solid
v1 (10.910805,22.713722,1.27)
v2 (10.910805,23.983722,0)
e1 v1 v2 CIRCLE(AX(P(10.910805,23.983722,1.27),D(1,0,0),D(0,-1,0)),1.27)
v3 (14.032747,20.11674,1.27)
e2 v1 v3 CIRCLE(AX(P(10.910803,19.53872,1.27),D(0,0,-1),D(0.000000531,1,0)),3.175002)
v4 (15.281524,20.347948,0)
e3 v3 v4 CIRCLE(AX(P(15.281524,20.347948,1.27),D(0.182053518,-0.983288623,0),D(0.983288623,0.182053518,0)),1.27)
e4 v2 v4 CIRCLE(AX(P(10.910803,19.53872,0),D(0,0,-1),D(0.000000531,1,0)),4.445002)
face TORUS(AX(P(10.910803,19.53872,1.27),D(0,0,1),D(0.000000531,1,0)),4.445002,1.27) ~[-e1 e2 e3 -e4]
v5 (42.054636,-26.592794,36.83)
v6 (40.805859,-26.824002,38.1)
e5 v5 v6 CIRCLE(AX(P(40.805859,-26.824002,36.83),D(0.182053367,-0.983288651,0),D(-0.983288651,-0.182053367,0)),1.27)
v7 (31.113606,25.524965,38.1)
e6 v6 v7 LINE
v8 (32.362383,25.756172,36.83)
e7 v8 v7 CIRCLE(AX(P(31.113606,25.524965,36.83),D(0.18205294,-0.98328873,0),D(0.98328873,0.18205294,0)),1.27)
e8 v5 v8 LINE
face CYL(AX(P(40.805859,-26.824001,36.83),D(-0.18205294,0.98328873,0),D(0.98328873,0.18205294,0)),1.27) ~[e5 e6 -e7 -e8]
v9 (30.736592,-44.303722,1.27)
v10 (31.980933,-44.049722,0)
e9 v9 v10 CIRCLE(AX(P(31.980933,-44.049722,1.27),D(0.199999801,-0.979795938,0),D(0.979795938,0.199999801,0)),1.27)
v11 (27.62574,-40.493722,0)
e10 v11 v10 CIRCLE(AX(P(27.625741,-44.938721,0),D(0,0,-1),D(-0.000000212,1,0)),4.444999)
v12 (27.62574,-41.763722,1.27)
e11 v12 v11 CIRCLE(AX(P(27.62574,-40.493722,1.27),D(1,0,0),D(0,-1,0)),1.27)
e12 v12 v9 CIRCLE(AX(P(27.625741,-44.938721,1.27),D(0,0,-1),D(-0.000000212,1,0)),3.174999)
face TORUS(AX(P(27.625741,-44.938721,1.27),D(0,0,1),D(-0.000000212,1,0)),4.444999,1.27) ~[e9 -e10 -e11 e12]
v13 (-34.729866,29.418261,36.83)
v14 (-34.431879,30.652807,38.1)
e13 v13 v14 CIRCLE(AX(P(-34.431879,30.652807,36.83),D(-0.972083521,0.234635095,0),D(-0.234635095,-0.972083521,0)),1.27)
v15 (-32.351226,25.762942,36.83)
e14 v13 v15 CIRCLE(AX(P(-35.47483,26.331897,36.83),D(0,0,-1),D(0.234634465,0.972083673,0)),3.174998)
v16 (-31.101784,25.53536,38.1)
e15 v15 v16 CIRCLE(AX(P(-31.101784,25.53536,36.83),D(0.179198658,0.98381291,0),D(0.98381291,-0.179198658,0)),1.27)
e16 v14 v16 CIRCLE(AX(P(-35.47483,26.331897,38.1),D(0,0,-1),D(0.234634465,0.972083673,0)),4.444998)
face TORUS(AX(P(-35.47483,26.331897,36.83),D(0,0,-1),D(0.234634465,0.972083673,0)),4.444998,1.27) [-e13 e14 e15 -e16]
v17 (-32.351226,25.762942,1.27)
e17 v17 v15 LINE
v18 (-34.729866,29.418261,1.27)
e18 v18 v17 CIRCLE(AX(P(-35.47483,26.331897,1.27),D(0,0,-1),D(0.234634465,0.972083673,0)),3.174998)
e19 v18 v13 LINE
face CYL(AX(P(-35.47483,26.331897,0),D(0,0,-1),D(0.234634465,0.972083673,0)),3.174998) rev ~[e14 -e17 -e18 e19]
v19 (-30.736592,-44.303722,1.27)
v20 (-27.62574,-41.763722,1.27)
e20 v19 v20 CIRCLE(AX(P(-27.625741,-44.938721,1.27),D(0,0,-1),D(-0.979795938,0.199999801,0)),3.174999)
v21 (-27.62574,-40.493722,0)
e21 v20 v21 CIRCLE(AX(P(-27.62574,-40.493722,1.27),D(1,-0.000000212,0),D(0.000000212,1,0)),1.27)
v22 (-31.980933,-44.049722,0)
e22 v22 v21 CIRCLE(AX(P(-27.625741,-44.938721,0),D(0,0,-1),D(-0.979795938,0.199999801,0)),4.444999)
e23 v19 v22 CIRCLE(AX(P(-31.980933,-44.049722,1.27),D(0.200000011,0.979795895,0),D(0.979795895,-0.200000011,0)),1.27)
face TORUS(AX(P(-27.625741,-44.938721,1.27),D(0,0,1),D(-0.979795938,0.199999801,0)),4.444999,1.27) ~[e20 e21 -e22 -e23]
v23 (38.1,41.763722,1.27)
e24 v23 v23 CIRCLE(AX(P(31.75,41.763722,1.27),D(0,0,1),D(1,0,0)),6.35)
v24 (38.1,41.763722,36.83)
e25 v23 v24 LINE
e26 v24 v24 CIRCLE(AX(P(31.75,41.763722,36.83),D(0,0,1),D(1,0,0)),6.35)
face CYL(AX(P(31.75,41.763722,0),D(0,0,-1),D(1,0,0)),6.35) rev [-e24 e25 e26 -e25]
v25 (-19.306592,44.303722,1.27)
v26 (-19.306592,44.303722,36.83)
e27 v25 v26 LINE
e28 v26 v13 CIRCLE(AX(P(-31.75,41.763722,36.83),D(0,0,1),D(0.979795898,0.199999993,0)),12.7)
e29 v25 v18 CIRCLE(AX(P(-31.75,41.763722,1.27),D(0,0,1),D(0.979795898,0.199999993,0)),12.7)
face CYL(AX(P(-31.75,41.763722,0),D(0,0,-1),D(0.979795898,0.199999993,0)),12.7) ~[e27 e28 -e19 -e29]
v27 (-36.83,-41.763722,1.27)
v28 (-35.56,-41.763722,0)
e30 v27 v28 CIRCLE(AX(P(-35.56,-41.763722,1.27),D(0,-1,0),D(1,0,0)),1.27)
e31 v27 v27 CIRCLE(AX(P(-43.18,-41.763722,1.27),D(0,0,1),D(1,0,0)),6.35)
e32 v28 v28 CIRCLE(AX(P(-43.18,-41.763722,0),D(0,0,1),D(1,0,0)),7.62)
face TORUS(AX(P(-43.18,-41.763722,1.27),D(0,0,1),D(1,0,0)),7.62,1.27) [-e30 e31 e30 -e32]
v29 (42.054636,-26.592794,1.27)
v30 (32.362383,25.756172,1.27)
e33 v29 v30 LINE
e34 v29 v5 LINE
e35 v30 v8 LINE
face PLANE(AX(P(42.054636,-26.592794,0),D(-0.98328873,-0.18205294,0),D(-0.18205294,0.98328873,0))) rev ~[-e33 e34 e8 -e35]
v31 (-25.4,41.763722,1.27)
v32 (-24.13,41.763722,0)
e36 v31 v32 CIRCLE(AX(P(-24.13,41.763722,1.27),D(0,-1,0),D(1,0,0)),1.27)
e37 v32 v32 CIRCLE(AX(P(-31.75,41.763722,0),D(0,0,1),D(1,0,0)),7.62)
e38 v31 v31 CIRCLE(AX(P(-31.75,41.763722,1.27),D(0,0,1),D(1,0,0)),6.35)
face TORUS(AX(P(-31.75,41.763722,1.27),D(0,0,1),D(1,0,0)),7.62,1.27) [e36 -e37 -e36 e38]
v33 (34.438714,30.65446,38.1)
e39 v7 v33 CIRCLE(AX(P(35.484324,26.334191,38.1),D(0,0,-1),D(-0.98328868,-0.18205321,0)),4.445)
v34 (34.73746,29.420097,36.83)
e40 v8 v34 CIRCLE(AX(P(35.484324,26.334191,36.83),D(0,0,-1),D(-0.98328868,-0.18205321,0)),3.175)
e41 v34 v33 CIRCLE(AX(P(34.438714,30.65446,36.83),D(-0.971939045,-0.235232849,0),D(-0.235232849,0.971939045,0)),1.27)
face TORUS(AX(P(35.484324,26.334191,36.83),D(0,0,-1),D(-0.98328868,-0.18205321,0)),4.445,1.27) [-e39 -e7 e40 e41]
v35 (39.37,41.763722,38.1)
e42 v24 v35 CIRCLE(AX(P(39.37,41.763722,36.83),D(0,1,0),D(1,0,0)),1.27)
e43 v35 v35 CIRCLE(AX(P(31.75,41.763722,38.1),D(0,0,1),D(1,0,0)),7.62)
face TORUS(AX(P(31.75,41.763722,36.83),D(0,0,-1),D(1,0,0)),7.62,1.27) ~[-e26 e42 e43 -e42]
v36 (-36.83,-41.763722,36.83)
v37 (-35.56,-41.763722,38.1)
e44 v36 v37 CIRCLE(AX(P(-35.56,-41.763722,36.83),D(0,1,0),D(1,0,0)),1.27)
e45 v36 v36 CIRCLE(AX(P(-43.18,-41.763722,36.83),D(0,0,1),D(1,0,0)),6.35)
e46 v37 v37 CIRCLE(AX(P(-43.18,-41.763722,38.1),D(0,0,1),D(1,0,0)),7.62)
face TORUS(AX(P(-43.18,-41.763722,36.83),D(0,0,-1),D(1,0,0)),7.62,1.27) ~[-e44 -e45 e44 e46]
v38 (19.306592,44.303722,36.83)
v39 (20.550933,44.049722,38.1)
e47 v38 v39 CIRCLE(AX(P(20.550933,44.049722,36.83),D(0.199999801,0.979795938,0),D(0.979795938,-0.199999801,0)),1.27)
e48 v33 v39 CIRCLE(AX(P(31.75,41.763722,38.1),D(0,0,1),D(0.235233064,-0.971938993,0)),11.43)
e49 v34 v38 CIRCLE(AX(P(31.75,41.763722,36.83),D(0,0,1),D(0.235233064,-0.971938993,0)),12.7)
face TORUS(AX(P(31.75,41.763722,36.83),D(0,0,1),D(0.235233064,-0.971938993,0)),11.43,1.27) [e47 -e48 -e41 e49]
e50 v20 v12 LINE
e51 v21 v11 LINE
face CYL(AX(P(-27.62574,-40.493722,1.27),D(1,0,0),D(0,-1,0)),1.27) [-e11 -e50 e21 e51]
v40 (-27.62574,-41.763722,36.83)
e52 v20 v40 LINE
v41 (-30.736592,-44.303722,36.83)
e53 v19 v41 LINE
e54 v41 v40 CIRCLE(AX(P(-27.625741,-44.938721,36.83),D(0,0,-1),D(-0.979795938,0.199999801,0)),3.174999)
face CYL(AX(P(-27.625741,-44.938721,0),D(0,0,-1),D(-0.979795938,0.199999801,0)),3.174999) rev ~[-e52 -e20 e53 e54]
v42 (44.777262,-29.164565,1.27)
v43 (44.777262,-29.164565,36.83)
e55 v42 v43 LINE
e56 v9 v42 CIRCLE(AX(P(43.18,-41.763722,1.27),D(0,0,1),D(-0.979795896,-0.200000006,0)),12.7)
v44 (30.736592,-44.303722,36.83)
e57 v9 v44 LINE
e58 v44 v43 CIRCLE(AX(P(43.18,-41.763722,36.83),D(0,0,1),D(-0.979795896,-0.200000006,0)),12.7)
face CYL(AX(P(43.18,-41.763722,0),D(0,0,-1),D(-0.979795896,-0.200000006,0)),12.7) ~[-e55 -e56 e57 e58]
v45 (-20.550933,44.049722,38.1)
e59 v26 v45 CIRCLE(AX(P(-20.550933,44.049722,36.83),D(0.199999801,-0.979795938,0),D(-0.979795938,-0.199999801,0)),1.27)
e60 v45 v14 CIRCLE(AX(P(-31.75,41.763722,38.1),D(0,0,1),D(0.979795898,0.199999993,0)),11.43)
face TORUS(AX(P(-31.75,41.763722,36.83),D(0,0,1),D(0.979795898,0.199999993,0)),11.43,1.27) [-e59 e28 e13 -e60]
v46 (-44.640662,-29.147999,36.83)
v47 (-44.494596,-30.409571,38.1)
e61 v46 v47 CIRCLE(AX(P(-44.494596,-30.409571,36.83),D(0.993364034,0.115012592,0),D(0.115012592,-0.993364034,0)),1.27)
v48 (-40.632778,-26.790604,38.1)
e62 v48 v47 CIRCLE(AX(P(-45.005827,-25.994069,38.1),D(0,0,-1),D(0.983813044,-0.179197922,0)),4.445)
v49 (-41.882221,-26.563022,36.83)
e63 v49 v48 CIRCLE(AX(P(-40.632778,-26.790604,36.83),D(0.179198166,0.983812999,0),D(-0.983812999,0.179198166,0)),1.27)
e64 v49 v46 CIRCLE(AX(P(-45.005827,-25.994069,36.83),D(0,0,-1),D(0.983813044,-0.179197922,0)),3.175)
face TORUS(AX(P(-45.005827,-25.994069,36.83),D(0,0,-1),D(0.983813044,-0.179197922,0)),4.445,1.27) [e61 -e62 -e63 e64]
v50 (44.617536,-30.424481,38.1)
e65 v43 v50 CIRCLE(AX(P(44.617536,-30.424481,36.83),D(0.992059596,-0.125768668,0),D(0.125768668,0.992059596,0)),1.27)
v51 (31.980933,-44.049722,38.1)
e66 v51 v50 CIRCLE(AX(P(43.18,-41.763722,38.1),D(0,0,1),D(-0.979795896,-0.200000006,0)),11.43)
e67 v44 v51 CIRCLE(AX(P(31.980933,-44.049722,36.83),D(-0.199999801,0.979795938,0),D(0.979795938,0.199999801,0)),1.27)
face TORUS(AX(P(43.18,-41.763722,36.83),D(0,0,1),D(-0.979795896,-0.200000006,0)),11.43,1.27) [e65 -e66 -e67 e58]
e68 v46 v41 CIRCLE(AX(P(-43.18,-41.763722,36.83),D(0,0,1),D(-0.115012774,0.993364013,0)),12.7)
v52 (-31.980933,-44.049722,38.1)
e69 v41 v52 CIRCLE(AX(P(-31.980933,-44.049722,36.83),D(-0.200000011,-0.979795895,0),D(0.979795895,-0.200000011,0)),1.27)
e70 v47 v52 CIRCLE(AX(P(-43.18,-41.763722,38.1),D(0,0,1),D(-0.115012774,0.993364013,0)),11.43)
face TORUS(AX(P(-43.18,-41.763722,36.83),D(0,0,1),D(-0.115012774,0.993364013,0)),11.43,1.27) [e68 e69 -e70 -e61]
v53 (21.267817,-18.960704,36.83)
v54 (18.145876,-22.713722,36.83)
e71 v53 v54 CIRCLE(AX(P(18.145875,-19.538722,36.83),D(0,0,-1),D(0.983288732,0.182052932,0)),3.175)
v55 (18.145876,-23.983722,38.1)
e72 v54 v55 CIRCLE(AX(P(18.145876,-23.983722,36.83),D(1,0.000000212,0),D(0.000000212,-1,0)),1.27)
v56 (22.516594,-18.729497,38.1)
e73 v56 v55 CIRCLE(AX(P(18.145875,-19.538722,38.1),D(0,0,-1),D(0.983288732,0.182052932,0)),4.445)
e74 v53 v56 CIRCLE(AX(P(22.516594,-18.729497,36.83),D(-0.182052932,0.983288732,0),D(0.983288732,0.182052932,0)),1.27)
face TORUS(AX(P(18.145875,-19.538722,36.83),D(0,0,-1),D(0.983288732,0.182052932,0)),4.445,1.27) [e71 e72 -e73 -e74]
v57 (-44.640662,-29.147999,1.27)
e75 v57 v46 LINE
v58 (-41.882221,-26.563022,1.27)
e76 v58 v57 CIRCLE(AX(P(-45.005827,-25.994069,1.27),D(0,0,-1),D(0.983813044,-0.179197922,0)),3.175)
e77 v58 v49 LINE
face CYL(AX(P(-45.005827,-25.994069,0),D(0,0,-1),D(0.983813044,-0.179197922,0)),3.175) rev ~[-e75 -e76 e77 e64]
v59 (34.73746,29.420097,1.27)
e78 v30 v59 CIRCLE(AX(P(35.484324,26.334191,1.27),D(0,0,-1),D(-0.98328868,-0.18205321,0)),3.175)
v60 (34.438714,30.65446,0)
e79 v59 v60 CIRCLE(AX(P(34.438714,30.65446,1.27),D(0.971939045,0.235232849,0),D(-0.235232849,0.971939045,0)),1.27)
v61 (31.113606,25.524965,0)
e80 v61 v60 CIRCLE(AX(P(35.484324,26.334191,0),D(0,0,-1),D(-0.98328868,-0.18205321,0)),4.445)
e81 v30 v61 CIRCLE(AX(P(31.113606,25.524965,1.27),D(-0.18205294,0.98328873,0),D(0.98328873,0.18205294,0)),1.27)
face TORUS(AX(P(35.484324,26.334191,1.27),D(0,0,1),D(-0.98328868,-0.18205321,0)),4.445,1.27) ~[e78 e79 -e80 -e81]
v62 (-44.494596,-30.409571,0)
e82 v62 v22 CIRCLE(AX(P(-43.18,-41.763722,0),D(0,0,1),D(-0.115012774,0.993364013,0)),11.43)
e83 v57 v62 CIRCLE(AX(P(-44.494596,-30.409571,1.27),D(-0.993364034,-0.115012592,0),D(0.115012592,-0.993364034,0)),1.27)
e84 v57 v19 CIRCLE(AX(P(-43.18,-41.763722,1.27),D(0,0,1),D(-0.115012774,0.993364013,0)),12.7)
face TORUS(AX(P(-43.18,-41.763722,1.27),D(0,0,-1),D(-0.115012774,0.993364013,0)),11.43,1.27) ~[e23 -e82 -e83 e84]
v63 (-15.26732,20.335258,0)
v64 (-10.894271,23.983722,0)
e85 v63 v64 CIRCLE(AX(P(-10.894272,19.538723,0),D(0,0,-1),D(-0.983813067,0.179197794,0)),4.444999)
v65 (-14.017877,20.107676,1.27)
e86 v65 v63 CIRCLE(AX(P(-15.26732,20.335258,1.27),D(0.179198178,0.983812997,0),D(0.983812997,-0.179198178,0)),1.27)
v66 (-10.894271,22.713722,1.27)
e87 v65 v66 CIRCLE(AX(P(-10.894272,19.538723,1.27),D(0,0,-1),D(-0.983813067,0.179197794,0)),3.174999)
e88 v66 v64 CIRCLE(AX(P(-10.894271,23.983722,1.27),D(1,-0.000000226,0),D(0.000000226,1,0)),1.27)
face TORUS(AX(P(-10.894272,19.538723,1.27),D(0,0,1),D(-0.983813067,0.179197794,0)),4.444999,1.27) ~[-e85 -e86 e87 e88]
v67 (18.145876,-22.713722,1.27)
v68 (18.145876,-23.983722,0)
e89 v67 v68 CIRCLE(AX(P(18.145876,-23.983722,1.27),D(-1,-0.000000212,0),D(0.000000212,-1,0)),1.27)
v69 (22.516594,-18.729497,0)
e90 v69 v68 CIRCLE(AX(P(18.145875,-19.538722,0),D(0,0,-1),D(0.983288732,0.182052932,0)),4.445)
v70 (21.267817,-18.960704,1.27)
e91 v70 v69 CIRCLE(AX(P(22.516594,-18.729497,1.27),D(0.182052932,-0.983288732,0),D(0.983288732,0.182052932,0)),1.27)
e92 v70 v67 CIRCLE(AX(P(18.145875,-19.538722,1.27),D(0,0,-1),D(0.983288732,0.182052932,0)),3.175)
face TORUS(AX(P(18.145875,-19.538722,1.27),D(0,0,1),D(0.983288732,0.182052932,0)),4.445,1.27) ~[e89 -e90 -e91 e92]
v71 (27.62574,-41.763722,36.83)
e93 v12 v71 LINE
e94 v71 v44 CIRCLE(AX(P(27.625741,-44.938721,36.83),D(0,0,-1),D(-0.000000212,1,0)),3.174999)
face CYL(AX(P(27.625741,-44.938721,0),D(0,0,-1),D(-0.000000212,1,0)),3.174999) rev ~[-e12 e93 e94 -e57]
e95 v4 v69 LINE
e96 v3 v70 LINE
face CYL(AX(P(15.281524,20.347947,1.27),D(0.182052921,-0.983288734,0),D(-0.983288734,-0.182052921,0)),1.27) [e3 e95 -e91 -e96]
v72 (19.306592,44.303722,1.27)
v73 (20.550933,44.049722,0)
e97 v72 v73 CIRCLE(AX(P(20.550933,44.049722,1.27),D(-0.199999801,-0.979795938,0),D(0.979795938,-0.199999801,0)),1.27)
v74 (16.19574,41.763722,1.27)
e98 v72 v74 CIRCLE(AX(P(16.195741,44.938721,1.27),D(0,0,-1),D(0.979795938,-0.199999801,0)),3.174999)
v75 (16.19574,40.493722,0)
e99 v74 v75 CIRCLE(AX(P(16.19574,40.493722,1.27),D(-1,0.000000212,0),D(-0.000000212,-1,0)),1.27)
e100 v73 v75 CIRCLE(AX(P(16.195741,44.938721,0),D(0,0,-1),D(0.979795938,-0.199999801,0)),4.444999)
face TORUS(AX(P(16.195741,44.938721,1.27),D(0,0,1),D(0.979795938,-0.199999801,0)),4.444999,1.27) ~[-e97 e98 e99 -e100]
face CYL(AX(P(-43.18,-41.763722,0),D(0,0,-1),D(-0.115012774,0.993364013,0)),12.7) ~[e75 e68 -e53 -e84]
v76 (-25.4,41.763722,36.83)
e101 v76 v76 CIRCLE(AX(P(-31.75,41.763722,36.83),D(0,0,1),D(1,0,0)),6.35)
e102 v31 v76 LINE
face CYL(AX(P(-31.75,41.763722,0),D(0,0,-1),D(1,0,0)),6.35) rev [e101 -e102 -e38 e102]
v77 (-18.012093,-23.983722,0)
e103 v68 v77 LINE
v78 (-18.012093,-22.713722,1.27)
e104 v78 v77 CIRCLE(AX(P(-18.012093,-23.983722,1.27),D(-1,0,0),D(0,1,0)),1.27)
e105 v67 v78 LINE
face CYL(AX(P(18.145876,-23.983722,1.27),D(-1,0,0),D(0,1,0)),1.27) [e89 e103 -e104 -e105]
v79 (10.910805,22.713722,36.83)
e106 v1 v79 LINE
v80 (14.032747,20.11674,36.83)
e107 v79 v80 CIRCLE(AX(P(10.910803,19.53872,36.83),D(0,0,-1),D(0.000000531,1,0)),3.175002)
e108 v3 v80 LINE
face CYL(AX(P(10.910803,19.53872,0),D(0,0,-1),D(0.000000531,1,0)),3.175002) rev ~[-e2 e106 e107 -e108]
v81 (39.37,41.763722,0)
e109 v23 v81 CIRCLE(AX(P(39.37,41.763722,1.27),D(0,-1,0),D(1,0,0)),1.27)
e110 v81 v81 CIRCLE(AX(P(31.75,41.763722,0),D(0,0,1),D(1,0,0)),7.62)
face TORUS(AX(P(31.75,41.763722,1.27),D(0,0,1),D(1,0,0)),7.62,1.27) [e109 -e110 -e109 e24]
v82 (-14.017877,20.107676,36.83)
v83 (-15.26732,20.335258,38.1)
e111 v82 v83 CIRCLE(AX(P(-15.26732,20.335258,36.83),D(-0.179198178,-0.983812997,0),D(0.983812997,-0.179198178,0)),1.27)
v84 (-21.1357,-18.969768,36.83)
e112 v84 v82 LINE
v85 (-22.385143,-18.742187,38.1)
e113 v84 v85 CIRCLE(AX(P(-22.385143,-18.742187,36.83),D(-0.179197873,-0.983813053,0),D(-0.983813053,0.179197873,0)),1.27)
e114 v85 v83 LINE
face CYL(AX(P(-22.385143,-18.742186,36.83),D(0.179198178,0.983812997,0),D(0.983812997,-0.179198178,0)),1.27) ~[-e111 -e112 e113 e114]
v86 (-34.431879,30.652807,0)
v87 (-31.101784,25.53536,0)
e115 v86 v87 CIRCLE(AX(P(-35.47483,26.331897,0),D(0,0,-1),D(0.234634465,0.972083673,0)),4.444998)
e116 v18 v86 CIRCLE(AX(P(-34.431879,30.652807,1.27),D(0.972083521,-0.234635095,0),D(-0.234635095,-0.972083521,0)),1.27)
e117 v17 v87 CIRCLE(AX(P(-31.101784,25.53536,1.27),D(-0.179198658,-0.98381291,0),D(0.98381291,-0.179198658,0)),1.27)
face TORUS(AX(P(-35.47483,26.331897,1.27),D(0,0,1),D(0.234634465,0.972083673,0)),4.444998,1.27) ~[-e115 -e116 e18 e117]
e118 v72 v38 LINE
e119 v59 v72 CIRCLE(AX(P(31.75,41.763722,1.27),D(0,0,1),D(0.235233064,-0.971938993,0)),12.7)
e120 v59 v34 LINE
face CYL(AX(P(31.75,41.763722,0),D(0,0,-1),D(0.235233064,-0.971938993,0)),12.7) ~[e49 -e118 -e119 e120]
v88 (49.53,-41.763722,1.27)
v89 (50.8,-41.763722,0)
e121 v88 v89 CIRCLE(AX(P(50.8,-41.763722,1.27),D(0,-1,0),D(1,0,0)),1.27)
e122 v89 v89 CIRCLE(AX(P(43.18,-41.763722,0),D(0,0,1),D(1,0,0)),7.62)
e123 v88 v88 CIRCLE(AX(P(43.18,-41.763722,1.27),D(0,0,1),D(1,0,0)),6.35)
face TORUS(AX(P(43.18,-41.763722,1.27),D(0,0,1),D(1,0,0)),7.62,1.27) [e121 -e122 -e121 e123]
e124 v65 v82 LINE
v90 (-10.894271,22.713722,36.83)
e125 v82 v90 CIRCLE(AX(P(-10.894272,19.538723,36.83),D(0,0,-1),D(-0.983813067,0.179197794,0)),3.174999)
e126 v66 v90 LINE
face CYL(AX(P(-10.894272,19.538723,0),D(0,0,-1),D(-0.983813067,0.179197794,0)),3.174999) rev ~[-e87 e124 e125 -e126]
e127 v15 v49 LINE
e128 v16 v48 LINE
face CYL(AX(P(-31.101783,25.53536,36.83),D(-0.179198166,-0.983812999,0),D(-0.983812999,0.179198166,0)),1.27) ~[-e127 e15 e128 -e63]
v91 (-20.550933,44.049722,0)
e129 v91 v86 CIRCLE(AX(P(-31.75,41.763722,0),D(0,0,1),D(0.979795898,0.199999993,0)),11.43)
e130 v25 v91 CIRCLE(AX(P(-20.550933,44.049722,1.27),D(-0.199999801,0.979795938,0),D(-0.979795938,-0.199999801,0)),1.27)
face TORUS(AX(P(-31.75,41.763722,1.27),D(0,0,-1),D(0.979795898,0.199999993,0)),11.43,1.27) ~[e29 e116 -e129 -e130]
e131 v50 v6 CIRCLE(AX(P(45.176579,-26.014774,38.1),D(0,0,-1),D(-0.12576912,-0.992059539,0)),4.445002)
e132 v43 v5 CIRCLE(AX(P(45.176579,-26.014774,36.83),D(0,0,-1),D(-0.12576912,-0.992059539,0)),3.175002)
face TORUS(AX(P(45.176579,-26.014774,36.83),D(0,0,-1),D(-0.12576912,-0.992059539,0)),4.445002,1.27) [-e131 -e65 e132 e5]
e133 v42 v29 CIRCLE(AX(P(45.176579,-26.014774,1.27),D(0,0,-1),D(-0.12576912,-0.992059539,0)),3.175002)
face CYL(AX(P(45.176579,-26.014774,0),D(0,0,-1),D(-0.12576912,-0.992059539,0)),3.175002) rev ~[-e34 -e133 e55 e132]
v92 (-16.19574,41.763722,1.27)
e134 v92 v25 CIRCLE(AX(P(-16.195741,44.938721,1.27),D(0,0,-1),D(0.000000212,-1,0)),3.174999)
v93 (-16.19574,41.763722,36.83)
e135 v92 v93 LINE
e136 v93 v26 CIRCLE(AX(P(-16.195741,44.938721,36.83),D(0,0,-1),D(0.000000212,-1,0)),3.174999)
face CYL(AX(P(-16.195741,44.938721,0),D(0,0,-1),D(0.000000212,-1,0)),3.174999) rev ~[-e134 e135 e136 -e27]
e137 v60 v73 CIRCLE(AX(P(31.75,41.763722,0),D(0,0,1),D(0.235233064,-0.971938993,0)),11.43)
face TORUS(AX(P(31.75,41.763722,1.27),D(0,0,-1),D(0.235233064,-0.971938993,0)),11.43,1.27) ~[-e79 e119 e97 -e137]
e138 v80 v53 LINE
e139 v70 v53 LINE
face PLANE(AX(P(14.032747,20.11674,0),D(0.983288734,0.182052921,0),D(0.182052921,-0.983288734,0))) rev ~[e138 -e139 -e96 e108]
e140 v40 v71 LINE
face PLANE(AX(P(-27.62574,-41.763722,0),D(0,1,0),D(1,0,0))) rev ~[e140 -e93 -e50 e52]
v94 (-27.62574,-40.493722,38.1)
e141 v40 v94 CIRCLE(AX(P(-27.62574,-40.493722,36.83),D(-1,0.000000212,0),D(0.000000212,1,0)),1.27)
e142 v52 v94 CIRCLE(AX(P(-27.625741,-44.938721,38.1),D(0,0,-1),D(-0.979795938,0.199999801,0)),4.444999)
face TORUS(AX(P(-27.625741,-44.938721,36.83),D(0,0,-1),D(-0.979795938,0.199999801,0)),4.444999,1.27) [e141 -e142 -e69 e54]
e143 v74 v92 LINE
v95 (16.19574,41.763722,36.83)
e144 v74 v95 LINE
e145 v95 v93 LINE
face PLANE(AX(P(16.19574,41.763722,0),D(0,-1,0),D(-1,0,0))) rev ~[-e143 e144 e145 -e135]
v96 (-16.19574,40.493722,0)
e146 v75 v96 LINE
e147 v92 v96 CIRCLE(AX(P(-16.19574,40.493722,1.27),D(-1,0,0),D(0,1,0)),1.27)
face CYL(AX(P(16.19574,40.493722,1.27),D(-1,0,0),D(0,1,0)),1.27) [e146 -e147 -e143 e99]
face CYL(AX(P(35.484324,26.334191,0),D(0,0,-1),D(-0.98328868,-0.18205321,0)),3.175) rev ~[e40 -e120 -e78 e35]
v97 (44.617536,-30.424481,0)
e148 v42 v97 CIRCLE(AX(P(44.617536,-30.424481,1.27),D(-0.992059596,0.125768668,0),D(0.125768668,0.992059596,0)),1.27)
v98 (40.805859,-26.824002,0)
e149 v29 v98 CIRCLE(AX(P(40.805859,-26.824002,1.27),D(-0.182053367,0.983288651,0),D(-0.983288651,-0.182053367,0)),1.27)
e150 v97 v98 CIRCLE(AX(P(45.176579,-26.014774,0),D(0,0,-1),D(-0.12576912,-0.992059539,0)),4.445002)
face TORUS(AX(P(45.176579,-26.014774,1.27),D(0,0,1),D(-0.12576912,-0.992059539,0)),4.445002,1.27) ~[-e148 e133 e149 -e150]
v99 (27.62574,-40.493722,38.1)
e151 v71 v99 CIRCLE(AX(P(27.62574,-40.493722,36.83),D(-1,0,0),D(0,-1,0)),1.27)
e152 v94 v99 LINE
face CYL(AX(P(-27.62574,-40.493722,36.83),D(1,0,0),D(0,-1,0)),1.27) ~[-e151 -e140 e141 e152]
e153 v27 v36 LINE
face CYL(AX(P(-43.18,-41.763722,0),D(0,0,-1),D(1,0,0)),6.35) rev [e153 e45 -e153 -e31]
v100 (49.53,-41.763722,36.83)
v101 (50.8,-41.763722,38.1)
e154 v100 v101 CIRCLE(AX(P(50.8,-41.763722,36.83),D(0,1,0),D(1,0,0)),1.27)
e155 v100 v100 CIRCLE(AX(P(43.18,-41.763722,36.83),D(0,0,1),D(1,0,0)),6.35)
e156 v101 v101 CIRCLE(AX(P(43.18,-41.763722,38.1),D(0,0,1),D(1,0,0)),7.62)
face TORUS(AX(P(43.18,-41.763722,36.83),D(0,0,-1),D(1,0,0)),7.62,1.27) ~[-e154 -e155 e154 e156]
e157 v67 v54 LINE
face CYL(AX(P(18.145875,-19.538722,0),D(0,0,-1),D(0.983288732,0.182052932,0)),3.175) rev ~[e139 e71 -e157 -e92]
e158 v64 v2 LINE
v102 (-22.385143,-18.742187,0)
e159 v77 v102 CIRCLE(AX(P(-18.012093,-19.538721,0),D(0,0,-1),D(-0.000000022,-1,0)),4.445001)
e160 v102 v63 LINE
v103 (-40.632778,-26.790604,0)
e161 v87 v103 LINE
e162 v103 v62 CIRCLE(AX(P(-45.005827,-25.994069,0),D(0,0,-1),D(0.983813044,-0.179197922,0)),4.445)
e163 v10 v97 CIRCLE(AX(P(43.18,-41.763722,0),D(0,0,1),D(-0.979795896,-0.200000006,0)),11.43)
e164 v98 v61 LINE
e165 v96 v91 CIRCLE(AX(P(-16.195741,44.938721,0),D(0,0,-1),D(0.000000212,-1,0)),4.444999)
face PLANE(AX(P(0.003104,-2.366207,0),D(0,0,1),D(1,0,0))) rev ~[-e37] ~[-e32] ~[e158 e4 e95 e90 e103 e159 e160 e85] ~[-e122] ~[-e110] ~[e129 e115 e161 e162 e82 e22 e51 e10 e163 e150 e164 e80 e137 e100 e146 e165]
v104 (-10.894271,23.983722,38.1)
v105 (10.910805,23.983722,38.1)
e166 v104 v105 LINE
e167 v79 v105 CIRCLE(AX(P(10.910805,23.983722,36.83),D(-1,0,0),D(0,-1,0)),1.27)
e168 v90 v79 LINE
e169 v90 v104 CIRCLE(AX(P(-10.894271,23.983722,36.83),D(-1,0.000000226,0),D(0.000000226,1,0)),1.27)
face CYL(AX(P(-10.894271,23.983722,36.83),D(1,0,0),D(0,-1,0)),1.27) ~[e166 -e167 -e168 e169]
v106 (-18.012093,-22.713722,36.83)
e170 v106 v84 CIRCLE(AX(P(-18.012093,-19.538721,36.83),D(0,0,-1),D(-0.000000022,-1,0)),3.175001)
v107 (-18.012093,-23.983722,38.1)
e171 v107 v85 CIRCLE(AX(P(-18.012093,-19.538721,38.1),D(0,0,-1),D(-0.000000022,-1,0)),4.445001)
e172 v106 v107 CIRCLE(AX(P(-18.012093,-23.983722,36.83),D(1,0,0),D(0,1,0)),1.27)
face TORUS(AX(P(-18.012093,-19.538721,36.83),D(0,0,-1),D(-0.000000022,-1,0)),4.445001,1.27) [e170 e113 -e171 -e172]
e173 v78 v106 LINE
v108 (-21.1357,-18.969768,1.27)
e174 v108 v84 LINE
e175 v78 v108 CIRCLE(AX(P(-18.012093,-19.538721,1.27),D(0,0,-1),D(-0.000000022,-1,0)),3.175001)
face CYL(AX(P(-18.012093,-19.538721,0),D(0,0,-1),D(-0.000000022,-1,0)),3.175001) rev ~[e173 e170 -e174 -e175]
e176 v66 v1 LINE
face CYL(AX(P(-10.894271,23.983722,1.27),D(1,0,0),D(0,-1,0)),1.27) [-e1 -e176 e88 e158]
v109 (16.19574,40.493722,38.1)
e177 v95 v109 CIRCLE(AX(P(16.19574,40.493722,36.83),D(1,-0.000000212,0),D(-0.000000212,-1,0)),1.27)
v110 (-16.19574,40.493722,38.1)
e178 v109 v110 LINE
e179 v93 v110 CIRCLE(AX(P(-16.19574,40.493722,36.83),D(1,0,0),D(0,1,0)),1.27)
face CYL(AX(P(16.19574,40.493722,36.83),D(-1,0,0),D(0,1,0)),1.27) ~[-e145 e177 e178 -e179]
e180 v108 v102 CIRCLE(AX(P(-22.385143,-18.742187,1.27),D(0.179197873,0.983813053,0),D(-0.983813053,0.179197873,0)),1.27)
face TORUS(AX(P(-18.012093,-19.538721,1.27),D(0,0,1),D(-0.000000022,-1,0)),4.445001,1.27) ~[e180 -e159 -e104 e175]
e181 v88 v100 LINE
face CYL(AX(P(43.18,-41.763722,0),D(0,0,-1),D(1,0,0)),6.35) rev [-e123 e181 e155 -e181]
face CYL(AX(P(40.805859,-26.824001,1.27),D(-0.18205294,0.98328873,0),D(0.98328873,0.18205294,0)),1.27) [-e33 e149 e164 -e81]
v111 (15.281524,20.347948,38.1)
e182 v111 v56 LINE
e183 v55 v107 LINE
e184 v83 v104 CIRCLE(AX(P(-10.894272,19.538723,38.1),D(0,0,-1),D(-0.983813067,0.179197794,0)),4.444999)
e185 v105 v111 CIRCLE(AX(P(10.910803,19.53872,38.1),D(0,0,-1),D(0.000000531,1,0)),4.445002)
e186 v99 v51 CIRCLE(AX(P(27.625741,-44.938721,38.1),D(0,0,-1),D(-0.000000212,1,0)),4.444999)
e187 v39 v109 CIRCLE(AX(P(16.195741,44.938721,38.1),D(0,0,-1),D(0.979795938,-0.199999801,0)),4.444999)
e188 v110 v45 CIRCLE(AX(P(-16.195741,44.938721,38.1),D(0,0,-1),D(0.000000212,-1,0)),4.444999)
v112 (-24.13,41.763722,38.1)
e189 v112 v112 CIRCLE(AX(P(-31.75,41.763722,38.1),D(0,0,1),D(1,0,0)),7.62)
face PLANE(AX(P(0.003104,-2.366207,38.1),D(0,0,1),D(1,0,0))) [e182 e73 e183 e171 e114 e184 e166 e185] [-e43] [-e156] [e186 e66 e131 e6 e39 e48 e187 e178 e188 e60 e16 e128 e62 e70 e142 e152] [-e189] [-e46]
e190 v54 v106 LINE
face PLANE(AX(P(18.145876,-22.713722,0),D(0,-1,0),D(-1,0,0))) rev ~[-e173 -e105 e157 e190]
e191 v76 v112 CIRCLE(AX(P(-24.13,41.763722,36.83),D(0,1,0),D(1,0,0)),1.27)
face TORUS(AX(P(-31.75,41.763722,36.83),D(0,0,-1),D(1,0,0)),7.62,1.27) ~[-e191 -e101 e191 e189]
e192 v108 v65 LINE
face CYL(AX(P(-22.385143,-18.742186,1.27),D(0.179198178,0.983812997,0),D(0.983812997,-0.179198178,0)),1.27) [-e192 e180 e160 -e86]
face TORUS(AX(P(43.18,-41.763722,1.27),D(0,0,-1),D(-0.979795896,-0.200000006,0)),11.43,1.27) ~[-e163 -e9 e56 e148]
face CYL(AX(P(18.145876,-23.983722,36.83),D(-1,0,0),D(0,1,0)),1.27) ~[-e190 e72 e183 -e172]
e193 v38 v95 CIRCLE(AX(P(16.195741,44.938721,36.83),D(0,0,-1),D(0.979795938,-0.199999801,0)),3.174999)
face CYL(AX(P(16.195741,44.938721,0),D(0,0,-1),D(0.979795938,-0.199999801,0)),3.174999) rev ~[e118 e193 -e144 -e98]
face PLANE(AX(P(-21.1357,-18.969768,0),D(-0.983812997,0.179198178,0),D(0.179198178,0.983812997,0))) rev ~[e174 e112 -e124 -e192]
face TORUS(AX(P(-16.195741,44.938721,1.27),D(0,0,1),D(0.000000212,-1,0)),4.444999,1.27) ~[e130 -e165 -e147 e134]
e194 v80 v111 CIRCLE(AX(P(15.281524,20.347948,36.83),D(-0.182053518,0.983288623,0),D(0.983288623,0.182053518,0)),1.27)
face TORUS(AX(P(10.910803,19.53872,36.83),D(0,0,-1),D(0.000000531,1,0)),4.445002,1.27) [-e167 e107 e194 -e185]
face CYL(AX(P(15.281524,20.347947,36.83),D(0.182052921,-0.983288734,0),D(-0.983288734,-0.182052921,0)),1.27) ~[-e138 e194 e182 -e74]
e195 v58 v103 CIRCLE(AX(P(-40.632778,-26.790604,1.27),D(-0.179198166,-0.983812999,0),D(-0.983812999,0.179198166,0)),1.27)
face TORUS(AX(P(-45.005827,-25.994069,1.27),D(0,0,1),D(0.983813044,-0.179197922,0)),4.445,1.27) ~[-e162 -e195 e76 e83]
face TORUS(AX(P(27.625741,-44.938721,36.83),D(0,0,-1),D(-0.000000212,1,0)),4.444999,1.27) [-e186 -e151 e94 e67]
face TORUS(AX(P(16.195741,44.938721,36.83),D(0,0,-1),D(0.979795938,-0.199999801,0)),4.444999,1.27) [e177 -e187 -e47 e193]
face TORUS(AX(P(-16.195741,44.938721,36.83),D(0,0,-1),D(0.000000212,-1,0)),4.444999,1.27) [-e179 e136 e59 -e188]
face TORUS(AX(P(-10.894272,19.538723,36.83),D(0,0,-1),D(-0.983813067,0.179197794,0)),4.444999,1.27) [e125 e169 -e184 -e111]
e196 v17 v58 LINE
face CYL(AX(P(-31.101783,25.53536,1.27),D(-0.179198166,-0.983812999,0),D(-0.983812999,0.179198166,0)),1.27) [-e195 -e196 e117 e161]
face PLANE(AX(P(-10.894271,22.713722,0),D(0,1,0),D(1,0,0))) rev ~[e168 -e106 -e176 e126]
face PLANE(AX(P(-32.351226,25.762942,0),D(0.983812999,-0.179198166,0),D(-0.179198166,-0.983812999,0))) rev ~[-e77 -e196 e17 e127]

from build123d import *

# Parameters (mm, degrees)
F0_R     = 6.35
F1_DEPTH = 38.1
F2_R     = 1.27


with BuildPart() as f1:
    # F0 (on Top) → F1 (new body)
    with BuildSketch(Plane.XY):
        with BuildLine():
            ThreePointArc((-16.19574, 41.763722), (-18.203786, 42.479377), (-19.306592, 44.303722))
            ThreePointArc((-19.306592, 44.303722), (-40.569518, 50.90189), (-34.729866, 29.418261))
            ThreePointArc((-34.729866, 29.418261), (-32.813666, 28.063607), (-32.351226, 25.762942))
            Line((-32.351226, 25.762942), (-41.882221, -26.563022))
            ThreePointArc((-41.882221, -26.563022), (-42.834789, -28.310794), (-44.640662, -29.147999))
            ThreePointArc((-44.640662, -29.147999), (-52.538374, -50.349223), (-30.736592, -44.303722))
            ThreePointArc((-30.736592, -44.303722), (-29.633786, -42.479377), (-27.62574, -41.763722))
            Line((-27.62574, -41.763722), (27.62574, -41.763722))
            ThreePointArc((27.62574, -41.763722), (29.633786, -42.479377), (30.736592, -44.303722))
            ThreePointArc((30.736592, -44.303722), (52.491726, -50.399795), (44.777262, -29.164565))
            ThreePointArc((44.777262, -29.164565), (42.996368, -28.322872), (42.054636, -26.592794))
            Line((42.054636, -26.592794), (32.362383, 25.756172))
            ThreePointArc((32.362383, 25.756172), (32.820117, 28.061218), (34.73746, 29.420097))
            ThreePointArc((34.73746, 29.420097), (40.566707, 50.904602), (19.306592, 44.303722))
            ThreePointArc((19.306592, 44.303722), (18.203786, 42.479377), (16.19574, 41.763722))
            Line((16.19574, 41.763722), (-16.19574, 41.763722))
        make_face()
        with Locations((-43.18, -41.763722)):
            Circle(F0_R, mode=Mode.SUBTRACT)
        with Locations((43.18, -41.763722)):
            Circle(F0_R, mode=Mode.SUBTRACT)
        with Locations((-31.75, 41.763722)):
            Circle(F0_R, mode=Mode.SUBTRACT)
        with BuildLine():
            ThreePointArc((-18.012093, -22.713722), (-20.450028, -21.572708), (-21.1357, -18.969768))
            Line((-21.1357, -18.969768), (-14.017877, 20.107676))
            ThreePointArc((-14.017877, 20.107676), (-12.928257, 21.976657), (-10.894271, 22.713722))
            Line((-10.894271, 22.713722), (10.910805, 22.713722))
            ThreePointArc((10.910805, 22.713722), (12.94125, 21.979606), (14.032747, 20.11674))
            Line((14.032747, 20.11674), (21.267817, -18.960704))
            ThreePointArc((21.267817, -18.960704), (20.58676, -21.569167), (18.145876, -22.713722))
            Line((18.145876, -22.713722), (-18.012093, -22.713722))
        make_face(mode=Mode.SUBTRACT)
        with Locations((31.75, 41.763722)):
            Circle(F0_R, mode=Mode.SUBTRACT)
    extrude(amount=F1_DEPTH)

    # F2
    f2_edges = [f1.edges().sort_by_distance(p)[0] for p in [
        (18.203786, 42.479377, 38.1),
        (0, 41.763722, 38.1),
        (-18.203786, 42.479377, 38.1),
        (-40.569518, 50.90189, 38.1),
        (-32.813666, 28.063607, 38.1),
        (-37.116723, -0.40004, 38.1),
        (-42.834789, -28.310794, 38.1),
        (-52.538374, -50.349223, 38.1),
        (-29.633786, -42.479377, 38.1),
        (0, -41.763722, 38.1),
        (29.633786, -42.479377, 38.1),
        (52.491726, -50.399795, 38.1),
        (42.996368, -28.322872, 38.1),
        (37.208509, -0.418311, 38.1),
        (32.820117, 28.061218, 38.1),
        (40.566707, 50.904602, 38.1),
        (-49.53, -41.763722, 38.1),
        (36.83, -41.763722, 38.1),
        (-38.1, 41.763722, 38.1),
        (20.58676, -21.569167, 38.1),
        (0.066891, -22.713722, 38.1),
        (-20.450028, -21.572708, 38.1),
        (-17.576788, 0.568954, 38.1),
        (-12.928257, 21.976657, 38.1),
        (0.008267, 22.713722, 38.1),
        (12.94125, 21.979606, 38.1),
        (17.650282, 0.578018, 38.1),
        (25.4, 41.763722, 38.1),
        (18.203786, 42.479377, 0),
        (0, 41.763722, 0),
        (-18.203786, 42.479377, 0),
        (-40.569518, 50.90189, 0),
        (-32.813666, 28.063607, 0),
        (-37.116723, -0.40004, 0),
        (-42.834789, -28.310794, 0),
        (-52.538374, -50.349223, 0),
        (-29.633786, -42.479377, 0),
        (0, -41.763722, 0),
        (29.633786, -42.479377, 0),
        (52.491726, -50.399795, 0),
        (42.996368, -28.322872, 0),
        (37.208509, -0.418311, 0),
        (32.820117, 28.061218, 0),
        (40.566707, 50.904602, 0),
        (-49.53, -41.763722, 0),
        (36.83, -41.763722, 0),
        (-38.1, 41.763722, 0),
        (20.58676, -21.569167, 0),
        (0.066891, -22.713722, 0),
        (-20.450028, -21.572708, 0),
        (-17.576788, 0.568954, 0),
        (-12.928257, 21.976657, 0),
        (0.008267, 22.713722, 0),
        (12.94125, 21.979606, 0),
        (17.650282, 0.578018, 0),
        (25.4, 41.763722, 0),
    ]]
    fillet(f2_edges, radius=F2_R)


solid = f1.part
